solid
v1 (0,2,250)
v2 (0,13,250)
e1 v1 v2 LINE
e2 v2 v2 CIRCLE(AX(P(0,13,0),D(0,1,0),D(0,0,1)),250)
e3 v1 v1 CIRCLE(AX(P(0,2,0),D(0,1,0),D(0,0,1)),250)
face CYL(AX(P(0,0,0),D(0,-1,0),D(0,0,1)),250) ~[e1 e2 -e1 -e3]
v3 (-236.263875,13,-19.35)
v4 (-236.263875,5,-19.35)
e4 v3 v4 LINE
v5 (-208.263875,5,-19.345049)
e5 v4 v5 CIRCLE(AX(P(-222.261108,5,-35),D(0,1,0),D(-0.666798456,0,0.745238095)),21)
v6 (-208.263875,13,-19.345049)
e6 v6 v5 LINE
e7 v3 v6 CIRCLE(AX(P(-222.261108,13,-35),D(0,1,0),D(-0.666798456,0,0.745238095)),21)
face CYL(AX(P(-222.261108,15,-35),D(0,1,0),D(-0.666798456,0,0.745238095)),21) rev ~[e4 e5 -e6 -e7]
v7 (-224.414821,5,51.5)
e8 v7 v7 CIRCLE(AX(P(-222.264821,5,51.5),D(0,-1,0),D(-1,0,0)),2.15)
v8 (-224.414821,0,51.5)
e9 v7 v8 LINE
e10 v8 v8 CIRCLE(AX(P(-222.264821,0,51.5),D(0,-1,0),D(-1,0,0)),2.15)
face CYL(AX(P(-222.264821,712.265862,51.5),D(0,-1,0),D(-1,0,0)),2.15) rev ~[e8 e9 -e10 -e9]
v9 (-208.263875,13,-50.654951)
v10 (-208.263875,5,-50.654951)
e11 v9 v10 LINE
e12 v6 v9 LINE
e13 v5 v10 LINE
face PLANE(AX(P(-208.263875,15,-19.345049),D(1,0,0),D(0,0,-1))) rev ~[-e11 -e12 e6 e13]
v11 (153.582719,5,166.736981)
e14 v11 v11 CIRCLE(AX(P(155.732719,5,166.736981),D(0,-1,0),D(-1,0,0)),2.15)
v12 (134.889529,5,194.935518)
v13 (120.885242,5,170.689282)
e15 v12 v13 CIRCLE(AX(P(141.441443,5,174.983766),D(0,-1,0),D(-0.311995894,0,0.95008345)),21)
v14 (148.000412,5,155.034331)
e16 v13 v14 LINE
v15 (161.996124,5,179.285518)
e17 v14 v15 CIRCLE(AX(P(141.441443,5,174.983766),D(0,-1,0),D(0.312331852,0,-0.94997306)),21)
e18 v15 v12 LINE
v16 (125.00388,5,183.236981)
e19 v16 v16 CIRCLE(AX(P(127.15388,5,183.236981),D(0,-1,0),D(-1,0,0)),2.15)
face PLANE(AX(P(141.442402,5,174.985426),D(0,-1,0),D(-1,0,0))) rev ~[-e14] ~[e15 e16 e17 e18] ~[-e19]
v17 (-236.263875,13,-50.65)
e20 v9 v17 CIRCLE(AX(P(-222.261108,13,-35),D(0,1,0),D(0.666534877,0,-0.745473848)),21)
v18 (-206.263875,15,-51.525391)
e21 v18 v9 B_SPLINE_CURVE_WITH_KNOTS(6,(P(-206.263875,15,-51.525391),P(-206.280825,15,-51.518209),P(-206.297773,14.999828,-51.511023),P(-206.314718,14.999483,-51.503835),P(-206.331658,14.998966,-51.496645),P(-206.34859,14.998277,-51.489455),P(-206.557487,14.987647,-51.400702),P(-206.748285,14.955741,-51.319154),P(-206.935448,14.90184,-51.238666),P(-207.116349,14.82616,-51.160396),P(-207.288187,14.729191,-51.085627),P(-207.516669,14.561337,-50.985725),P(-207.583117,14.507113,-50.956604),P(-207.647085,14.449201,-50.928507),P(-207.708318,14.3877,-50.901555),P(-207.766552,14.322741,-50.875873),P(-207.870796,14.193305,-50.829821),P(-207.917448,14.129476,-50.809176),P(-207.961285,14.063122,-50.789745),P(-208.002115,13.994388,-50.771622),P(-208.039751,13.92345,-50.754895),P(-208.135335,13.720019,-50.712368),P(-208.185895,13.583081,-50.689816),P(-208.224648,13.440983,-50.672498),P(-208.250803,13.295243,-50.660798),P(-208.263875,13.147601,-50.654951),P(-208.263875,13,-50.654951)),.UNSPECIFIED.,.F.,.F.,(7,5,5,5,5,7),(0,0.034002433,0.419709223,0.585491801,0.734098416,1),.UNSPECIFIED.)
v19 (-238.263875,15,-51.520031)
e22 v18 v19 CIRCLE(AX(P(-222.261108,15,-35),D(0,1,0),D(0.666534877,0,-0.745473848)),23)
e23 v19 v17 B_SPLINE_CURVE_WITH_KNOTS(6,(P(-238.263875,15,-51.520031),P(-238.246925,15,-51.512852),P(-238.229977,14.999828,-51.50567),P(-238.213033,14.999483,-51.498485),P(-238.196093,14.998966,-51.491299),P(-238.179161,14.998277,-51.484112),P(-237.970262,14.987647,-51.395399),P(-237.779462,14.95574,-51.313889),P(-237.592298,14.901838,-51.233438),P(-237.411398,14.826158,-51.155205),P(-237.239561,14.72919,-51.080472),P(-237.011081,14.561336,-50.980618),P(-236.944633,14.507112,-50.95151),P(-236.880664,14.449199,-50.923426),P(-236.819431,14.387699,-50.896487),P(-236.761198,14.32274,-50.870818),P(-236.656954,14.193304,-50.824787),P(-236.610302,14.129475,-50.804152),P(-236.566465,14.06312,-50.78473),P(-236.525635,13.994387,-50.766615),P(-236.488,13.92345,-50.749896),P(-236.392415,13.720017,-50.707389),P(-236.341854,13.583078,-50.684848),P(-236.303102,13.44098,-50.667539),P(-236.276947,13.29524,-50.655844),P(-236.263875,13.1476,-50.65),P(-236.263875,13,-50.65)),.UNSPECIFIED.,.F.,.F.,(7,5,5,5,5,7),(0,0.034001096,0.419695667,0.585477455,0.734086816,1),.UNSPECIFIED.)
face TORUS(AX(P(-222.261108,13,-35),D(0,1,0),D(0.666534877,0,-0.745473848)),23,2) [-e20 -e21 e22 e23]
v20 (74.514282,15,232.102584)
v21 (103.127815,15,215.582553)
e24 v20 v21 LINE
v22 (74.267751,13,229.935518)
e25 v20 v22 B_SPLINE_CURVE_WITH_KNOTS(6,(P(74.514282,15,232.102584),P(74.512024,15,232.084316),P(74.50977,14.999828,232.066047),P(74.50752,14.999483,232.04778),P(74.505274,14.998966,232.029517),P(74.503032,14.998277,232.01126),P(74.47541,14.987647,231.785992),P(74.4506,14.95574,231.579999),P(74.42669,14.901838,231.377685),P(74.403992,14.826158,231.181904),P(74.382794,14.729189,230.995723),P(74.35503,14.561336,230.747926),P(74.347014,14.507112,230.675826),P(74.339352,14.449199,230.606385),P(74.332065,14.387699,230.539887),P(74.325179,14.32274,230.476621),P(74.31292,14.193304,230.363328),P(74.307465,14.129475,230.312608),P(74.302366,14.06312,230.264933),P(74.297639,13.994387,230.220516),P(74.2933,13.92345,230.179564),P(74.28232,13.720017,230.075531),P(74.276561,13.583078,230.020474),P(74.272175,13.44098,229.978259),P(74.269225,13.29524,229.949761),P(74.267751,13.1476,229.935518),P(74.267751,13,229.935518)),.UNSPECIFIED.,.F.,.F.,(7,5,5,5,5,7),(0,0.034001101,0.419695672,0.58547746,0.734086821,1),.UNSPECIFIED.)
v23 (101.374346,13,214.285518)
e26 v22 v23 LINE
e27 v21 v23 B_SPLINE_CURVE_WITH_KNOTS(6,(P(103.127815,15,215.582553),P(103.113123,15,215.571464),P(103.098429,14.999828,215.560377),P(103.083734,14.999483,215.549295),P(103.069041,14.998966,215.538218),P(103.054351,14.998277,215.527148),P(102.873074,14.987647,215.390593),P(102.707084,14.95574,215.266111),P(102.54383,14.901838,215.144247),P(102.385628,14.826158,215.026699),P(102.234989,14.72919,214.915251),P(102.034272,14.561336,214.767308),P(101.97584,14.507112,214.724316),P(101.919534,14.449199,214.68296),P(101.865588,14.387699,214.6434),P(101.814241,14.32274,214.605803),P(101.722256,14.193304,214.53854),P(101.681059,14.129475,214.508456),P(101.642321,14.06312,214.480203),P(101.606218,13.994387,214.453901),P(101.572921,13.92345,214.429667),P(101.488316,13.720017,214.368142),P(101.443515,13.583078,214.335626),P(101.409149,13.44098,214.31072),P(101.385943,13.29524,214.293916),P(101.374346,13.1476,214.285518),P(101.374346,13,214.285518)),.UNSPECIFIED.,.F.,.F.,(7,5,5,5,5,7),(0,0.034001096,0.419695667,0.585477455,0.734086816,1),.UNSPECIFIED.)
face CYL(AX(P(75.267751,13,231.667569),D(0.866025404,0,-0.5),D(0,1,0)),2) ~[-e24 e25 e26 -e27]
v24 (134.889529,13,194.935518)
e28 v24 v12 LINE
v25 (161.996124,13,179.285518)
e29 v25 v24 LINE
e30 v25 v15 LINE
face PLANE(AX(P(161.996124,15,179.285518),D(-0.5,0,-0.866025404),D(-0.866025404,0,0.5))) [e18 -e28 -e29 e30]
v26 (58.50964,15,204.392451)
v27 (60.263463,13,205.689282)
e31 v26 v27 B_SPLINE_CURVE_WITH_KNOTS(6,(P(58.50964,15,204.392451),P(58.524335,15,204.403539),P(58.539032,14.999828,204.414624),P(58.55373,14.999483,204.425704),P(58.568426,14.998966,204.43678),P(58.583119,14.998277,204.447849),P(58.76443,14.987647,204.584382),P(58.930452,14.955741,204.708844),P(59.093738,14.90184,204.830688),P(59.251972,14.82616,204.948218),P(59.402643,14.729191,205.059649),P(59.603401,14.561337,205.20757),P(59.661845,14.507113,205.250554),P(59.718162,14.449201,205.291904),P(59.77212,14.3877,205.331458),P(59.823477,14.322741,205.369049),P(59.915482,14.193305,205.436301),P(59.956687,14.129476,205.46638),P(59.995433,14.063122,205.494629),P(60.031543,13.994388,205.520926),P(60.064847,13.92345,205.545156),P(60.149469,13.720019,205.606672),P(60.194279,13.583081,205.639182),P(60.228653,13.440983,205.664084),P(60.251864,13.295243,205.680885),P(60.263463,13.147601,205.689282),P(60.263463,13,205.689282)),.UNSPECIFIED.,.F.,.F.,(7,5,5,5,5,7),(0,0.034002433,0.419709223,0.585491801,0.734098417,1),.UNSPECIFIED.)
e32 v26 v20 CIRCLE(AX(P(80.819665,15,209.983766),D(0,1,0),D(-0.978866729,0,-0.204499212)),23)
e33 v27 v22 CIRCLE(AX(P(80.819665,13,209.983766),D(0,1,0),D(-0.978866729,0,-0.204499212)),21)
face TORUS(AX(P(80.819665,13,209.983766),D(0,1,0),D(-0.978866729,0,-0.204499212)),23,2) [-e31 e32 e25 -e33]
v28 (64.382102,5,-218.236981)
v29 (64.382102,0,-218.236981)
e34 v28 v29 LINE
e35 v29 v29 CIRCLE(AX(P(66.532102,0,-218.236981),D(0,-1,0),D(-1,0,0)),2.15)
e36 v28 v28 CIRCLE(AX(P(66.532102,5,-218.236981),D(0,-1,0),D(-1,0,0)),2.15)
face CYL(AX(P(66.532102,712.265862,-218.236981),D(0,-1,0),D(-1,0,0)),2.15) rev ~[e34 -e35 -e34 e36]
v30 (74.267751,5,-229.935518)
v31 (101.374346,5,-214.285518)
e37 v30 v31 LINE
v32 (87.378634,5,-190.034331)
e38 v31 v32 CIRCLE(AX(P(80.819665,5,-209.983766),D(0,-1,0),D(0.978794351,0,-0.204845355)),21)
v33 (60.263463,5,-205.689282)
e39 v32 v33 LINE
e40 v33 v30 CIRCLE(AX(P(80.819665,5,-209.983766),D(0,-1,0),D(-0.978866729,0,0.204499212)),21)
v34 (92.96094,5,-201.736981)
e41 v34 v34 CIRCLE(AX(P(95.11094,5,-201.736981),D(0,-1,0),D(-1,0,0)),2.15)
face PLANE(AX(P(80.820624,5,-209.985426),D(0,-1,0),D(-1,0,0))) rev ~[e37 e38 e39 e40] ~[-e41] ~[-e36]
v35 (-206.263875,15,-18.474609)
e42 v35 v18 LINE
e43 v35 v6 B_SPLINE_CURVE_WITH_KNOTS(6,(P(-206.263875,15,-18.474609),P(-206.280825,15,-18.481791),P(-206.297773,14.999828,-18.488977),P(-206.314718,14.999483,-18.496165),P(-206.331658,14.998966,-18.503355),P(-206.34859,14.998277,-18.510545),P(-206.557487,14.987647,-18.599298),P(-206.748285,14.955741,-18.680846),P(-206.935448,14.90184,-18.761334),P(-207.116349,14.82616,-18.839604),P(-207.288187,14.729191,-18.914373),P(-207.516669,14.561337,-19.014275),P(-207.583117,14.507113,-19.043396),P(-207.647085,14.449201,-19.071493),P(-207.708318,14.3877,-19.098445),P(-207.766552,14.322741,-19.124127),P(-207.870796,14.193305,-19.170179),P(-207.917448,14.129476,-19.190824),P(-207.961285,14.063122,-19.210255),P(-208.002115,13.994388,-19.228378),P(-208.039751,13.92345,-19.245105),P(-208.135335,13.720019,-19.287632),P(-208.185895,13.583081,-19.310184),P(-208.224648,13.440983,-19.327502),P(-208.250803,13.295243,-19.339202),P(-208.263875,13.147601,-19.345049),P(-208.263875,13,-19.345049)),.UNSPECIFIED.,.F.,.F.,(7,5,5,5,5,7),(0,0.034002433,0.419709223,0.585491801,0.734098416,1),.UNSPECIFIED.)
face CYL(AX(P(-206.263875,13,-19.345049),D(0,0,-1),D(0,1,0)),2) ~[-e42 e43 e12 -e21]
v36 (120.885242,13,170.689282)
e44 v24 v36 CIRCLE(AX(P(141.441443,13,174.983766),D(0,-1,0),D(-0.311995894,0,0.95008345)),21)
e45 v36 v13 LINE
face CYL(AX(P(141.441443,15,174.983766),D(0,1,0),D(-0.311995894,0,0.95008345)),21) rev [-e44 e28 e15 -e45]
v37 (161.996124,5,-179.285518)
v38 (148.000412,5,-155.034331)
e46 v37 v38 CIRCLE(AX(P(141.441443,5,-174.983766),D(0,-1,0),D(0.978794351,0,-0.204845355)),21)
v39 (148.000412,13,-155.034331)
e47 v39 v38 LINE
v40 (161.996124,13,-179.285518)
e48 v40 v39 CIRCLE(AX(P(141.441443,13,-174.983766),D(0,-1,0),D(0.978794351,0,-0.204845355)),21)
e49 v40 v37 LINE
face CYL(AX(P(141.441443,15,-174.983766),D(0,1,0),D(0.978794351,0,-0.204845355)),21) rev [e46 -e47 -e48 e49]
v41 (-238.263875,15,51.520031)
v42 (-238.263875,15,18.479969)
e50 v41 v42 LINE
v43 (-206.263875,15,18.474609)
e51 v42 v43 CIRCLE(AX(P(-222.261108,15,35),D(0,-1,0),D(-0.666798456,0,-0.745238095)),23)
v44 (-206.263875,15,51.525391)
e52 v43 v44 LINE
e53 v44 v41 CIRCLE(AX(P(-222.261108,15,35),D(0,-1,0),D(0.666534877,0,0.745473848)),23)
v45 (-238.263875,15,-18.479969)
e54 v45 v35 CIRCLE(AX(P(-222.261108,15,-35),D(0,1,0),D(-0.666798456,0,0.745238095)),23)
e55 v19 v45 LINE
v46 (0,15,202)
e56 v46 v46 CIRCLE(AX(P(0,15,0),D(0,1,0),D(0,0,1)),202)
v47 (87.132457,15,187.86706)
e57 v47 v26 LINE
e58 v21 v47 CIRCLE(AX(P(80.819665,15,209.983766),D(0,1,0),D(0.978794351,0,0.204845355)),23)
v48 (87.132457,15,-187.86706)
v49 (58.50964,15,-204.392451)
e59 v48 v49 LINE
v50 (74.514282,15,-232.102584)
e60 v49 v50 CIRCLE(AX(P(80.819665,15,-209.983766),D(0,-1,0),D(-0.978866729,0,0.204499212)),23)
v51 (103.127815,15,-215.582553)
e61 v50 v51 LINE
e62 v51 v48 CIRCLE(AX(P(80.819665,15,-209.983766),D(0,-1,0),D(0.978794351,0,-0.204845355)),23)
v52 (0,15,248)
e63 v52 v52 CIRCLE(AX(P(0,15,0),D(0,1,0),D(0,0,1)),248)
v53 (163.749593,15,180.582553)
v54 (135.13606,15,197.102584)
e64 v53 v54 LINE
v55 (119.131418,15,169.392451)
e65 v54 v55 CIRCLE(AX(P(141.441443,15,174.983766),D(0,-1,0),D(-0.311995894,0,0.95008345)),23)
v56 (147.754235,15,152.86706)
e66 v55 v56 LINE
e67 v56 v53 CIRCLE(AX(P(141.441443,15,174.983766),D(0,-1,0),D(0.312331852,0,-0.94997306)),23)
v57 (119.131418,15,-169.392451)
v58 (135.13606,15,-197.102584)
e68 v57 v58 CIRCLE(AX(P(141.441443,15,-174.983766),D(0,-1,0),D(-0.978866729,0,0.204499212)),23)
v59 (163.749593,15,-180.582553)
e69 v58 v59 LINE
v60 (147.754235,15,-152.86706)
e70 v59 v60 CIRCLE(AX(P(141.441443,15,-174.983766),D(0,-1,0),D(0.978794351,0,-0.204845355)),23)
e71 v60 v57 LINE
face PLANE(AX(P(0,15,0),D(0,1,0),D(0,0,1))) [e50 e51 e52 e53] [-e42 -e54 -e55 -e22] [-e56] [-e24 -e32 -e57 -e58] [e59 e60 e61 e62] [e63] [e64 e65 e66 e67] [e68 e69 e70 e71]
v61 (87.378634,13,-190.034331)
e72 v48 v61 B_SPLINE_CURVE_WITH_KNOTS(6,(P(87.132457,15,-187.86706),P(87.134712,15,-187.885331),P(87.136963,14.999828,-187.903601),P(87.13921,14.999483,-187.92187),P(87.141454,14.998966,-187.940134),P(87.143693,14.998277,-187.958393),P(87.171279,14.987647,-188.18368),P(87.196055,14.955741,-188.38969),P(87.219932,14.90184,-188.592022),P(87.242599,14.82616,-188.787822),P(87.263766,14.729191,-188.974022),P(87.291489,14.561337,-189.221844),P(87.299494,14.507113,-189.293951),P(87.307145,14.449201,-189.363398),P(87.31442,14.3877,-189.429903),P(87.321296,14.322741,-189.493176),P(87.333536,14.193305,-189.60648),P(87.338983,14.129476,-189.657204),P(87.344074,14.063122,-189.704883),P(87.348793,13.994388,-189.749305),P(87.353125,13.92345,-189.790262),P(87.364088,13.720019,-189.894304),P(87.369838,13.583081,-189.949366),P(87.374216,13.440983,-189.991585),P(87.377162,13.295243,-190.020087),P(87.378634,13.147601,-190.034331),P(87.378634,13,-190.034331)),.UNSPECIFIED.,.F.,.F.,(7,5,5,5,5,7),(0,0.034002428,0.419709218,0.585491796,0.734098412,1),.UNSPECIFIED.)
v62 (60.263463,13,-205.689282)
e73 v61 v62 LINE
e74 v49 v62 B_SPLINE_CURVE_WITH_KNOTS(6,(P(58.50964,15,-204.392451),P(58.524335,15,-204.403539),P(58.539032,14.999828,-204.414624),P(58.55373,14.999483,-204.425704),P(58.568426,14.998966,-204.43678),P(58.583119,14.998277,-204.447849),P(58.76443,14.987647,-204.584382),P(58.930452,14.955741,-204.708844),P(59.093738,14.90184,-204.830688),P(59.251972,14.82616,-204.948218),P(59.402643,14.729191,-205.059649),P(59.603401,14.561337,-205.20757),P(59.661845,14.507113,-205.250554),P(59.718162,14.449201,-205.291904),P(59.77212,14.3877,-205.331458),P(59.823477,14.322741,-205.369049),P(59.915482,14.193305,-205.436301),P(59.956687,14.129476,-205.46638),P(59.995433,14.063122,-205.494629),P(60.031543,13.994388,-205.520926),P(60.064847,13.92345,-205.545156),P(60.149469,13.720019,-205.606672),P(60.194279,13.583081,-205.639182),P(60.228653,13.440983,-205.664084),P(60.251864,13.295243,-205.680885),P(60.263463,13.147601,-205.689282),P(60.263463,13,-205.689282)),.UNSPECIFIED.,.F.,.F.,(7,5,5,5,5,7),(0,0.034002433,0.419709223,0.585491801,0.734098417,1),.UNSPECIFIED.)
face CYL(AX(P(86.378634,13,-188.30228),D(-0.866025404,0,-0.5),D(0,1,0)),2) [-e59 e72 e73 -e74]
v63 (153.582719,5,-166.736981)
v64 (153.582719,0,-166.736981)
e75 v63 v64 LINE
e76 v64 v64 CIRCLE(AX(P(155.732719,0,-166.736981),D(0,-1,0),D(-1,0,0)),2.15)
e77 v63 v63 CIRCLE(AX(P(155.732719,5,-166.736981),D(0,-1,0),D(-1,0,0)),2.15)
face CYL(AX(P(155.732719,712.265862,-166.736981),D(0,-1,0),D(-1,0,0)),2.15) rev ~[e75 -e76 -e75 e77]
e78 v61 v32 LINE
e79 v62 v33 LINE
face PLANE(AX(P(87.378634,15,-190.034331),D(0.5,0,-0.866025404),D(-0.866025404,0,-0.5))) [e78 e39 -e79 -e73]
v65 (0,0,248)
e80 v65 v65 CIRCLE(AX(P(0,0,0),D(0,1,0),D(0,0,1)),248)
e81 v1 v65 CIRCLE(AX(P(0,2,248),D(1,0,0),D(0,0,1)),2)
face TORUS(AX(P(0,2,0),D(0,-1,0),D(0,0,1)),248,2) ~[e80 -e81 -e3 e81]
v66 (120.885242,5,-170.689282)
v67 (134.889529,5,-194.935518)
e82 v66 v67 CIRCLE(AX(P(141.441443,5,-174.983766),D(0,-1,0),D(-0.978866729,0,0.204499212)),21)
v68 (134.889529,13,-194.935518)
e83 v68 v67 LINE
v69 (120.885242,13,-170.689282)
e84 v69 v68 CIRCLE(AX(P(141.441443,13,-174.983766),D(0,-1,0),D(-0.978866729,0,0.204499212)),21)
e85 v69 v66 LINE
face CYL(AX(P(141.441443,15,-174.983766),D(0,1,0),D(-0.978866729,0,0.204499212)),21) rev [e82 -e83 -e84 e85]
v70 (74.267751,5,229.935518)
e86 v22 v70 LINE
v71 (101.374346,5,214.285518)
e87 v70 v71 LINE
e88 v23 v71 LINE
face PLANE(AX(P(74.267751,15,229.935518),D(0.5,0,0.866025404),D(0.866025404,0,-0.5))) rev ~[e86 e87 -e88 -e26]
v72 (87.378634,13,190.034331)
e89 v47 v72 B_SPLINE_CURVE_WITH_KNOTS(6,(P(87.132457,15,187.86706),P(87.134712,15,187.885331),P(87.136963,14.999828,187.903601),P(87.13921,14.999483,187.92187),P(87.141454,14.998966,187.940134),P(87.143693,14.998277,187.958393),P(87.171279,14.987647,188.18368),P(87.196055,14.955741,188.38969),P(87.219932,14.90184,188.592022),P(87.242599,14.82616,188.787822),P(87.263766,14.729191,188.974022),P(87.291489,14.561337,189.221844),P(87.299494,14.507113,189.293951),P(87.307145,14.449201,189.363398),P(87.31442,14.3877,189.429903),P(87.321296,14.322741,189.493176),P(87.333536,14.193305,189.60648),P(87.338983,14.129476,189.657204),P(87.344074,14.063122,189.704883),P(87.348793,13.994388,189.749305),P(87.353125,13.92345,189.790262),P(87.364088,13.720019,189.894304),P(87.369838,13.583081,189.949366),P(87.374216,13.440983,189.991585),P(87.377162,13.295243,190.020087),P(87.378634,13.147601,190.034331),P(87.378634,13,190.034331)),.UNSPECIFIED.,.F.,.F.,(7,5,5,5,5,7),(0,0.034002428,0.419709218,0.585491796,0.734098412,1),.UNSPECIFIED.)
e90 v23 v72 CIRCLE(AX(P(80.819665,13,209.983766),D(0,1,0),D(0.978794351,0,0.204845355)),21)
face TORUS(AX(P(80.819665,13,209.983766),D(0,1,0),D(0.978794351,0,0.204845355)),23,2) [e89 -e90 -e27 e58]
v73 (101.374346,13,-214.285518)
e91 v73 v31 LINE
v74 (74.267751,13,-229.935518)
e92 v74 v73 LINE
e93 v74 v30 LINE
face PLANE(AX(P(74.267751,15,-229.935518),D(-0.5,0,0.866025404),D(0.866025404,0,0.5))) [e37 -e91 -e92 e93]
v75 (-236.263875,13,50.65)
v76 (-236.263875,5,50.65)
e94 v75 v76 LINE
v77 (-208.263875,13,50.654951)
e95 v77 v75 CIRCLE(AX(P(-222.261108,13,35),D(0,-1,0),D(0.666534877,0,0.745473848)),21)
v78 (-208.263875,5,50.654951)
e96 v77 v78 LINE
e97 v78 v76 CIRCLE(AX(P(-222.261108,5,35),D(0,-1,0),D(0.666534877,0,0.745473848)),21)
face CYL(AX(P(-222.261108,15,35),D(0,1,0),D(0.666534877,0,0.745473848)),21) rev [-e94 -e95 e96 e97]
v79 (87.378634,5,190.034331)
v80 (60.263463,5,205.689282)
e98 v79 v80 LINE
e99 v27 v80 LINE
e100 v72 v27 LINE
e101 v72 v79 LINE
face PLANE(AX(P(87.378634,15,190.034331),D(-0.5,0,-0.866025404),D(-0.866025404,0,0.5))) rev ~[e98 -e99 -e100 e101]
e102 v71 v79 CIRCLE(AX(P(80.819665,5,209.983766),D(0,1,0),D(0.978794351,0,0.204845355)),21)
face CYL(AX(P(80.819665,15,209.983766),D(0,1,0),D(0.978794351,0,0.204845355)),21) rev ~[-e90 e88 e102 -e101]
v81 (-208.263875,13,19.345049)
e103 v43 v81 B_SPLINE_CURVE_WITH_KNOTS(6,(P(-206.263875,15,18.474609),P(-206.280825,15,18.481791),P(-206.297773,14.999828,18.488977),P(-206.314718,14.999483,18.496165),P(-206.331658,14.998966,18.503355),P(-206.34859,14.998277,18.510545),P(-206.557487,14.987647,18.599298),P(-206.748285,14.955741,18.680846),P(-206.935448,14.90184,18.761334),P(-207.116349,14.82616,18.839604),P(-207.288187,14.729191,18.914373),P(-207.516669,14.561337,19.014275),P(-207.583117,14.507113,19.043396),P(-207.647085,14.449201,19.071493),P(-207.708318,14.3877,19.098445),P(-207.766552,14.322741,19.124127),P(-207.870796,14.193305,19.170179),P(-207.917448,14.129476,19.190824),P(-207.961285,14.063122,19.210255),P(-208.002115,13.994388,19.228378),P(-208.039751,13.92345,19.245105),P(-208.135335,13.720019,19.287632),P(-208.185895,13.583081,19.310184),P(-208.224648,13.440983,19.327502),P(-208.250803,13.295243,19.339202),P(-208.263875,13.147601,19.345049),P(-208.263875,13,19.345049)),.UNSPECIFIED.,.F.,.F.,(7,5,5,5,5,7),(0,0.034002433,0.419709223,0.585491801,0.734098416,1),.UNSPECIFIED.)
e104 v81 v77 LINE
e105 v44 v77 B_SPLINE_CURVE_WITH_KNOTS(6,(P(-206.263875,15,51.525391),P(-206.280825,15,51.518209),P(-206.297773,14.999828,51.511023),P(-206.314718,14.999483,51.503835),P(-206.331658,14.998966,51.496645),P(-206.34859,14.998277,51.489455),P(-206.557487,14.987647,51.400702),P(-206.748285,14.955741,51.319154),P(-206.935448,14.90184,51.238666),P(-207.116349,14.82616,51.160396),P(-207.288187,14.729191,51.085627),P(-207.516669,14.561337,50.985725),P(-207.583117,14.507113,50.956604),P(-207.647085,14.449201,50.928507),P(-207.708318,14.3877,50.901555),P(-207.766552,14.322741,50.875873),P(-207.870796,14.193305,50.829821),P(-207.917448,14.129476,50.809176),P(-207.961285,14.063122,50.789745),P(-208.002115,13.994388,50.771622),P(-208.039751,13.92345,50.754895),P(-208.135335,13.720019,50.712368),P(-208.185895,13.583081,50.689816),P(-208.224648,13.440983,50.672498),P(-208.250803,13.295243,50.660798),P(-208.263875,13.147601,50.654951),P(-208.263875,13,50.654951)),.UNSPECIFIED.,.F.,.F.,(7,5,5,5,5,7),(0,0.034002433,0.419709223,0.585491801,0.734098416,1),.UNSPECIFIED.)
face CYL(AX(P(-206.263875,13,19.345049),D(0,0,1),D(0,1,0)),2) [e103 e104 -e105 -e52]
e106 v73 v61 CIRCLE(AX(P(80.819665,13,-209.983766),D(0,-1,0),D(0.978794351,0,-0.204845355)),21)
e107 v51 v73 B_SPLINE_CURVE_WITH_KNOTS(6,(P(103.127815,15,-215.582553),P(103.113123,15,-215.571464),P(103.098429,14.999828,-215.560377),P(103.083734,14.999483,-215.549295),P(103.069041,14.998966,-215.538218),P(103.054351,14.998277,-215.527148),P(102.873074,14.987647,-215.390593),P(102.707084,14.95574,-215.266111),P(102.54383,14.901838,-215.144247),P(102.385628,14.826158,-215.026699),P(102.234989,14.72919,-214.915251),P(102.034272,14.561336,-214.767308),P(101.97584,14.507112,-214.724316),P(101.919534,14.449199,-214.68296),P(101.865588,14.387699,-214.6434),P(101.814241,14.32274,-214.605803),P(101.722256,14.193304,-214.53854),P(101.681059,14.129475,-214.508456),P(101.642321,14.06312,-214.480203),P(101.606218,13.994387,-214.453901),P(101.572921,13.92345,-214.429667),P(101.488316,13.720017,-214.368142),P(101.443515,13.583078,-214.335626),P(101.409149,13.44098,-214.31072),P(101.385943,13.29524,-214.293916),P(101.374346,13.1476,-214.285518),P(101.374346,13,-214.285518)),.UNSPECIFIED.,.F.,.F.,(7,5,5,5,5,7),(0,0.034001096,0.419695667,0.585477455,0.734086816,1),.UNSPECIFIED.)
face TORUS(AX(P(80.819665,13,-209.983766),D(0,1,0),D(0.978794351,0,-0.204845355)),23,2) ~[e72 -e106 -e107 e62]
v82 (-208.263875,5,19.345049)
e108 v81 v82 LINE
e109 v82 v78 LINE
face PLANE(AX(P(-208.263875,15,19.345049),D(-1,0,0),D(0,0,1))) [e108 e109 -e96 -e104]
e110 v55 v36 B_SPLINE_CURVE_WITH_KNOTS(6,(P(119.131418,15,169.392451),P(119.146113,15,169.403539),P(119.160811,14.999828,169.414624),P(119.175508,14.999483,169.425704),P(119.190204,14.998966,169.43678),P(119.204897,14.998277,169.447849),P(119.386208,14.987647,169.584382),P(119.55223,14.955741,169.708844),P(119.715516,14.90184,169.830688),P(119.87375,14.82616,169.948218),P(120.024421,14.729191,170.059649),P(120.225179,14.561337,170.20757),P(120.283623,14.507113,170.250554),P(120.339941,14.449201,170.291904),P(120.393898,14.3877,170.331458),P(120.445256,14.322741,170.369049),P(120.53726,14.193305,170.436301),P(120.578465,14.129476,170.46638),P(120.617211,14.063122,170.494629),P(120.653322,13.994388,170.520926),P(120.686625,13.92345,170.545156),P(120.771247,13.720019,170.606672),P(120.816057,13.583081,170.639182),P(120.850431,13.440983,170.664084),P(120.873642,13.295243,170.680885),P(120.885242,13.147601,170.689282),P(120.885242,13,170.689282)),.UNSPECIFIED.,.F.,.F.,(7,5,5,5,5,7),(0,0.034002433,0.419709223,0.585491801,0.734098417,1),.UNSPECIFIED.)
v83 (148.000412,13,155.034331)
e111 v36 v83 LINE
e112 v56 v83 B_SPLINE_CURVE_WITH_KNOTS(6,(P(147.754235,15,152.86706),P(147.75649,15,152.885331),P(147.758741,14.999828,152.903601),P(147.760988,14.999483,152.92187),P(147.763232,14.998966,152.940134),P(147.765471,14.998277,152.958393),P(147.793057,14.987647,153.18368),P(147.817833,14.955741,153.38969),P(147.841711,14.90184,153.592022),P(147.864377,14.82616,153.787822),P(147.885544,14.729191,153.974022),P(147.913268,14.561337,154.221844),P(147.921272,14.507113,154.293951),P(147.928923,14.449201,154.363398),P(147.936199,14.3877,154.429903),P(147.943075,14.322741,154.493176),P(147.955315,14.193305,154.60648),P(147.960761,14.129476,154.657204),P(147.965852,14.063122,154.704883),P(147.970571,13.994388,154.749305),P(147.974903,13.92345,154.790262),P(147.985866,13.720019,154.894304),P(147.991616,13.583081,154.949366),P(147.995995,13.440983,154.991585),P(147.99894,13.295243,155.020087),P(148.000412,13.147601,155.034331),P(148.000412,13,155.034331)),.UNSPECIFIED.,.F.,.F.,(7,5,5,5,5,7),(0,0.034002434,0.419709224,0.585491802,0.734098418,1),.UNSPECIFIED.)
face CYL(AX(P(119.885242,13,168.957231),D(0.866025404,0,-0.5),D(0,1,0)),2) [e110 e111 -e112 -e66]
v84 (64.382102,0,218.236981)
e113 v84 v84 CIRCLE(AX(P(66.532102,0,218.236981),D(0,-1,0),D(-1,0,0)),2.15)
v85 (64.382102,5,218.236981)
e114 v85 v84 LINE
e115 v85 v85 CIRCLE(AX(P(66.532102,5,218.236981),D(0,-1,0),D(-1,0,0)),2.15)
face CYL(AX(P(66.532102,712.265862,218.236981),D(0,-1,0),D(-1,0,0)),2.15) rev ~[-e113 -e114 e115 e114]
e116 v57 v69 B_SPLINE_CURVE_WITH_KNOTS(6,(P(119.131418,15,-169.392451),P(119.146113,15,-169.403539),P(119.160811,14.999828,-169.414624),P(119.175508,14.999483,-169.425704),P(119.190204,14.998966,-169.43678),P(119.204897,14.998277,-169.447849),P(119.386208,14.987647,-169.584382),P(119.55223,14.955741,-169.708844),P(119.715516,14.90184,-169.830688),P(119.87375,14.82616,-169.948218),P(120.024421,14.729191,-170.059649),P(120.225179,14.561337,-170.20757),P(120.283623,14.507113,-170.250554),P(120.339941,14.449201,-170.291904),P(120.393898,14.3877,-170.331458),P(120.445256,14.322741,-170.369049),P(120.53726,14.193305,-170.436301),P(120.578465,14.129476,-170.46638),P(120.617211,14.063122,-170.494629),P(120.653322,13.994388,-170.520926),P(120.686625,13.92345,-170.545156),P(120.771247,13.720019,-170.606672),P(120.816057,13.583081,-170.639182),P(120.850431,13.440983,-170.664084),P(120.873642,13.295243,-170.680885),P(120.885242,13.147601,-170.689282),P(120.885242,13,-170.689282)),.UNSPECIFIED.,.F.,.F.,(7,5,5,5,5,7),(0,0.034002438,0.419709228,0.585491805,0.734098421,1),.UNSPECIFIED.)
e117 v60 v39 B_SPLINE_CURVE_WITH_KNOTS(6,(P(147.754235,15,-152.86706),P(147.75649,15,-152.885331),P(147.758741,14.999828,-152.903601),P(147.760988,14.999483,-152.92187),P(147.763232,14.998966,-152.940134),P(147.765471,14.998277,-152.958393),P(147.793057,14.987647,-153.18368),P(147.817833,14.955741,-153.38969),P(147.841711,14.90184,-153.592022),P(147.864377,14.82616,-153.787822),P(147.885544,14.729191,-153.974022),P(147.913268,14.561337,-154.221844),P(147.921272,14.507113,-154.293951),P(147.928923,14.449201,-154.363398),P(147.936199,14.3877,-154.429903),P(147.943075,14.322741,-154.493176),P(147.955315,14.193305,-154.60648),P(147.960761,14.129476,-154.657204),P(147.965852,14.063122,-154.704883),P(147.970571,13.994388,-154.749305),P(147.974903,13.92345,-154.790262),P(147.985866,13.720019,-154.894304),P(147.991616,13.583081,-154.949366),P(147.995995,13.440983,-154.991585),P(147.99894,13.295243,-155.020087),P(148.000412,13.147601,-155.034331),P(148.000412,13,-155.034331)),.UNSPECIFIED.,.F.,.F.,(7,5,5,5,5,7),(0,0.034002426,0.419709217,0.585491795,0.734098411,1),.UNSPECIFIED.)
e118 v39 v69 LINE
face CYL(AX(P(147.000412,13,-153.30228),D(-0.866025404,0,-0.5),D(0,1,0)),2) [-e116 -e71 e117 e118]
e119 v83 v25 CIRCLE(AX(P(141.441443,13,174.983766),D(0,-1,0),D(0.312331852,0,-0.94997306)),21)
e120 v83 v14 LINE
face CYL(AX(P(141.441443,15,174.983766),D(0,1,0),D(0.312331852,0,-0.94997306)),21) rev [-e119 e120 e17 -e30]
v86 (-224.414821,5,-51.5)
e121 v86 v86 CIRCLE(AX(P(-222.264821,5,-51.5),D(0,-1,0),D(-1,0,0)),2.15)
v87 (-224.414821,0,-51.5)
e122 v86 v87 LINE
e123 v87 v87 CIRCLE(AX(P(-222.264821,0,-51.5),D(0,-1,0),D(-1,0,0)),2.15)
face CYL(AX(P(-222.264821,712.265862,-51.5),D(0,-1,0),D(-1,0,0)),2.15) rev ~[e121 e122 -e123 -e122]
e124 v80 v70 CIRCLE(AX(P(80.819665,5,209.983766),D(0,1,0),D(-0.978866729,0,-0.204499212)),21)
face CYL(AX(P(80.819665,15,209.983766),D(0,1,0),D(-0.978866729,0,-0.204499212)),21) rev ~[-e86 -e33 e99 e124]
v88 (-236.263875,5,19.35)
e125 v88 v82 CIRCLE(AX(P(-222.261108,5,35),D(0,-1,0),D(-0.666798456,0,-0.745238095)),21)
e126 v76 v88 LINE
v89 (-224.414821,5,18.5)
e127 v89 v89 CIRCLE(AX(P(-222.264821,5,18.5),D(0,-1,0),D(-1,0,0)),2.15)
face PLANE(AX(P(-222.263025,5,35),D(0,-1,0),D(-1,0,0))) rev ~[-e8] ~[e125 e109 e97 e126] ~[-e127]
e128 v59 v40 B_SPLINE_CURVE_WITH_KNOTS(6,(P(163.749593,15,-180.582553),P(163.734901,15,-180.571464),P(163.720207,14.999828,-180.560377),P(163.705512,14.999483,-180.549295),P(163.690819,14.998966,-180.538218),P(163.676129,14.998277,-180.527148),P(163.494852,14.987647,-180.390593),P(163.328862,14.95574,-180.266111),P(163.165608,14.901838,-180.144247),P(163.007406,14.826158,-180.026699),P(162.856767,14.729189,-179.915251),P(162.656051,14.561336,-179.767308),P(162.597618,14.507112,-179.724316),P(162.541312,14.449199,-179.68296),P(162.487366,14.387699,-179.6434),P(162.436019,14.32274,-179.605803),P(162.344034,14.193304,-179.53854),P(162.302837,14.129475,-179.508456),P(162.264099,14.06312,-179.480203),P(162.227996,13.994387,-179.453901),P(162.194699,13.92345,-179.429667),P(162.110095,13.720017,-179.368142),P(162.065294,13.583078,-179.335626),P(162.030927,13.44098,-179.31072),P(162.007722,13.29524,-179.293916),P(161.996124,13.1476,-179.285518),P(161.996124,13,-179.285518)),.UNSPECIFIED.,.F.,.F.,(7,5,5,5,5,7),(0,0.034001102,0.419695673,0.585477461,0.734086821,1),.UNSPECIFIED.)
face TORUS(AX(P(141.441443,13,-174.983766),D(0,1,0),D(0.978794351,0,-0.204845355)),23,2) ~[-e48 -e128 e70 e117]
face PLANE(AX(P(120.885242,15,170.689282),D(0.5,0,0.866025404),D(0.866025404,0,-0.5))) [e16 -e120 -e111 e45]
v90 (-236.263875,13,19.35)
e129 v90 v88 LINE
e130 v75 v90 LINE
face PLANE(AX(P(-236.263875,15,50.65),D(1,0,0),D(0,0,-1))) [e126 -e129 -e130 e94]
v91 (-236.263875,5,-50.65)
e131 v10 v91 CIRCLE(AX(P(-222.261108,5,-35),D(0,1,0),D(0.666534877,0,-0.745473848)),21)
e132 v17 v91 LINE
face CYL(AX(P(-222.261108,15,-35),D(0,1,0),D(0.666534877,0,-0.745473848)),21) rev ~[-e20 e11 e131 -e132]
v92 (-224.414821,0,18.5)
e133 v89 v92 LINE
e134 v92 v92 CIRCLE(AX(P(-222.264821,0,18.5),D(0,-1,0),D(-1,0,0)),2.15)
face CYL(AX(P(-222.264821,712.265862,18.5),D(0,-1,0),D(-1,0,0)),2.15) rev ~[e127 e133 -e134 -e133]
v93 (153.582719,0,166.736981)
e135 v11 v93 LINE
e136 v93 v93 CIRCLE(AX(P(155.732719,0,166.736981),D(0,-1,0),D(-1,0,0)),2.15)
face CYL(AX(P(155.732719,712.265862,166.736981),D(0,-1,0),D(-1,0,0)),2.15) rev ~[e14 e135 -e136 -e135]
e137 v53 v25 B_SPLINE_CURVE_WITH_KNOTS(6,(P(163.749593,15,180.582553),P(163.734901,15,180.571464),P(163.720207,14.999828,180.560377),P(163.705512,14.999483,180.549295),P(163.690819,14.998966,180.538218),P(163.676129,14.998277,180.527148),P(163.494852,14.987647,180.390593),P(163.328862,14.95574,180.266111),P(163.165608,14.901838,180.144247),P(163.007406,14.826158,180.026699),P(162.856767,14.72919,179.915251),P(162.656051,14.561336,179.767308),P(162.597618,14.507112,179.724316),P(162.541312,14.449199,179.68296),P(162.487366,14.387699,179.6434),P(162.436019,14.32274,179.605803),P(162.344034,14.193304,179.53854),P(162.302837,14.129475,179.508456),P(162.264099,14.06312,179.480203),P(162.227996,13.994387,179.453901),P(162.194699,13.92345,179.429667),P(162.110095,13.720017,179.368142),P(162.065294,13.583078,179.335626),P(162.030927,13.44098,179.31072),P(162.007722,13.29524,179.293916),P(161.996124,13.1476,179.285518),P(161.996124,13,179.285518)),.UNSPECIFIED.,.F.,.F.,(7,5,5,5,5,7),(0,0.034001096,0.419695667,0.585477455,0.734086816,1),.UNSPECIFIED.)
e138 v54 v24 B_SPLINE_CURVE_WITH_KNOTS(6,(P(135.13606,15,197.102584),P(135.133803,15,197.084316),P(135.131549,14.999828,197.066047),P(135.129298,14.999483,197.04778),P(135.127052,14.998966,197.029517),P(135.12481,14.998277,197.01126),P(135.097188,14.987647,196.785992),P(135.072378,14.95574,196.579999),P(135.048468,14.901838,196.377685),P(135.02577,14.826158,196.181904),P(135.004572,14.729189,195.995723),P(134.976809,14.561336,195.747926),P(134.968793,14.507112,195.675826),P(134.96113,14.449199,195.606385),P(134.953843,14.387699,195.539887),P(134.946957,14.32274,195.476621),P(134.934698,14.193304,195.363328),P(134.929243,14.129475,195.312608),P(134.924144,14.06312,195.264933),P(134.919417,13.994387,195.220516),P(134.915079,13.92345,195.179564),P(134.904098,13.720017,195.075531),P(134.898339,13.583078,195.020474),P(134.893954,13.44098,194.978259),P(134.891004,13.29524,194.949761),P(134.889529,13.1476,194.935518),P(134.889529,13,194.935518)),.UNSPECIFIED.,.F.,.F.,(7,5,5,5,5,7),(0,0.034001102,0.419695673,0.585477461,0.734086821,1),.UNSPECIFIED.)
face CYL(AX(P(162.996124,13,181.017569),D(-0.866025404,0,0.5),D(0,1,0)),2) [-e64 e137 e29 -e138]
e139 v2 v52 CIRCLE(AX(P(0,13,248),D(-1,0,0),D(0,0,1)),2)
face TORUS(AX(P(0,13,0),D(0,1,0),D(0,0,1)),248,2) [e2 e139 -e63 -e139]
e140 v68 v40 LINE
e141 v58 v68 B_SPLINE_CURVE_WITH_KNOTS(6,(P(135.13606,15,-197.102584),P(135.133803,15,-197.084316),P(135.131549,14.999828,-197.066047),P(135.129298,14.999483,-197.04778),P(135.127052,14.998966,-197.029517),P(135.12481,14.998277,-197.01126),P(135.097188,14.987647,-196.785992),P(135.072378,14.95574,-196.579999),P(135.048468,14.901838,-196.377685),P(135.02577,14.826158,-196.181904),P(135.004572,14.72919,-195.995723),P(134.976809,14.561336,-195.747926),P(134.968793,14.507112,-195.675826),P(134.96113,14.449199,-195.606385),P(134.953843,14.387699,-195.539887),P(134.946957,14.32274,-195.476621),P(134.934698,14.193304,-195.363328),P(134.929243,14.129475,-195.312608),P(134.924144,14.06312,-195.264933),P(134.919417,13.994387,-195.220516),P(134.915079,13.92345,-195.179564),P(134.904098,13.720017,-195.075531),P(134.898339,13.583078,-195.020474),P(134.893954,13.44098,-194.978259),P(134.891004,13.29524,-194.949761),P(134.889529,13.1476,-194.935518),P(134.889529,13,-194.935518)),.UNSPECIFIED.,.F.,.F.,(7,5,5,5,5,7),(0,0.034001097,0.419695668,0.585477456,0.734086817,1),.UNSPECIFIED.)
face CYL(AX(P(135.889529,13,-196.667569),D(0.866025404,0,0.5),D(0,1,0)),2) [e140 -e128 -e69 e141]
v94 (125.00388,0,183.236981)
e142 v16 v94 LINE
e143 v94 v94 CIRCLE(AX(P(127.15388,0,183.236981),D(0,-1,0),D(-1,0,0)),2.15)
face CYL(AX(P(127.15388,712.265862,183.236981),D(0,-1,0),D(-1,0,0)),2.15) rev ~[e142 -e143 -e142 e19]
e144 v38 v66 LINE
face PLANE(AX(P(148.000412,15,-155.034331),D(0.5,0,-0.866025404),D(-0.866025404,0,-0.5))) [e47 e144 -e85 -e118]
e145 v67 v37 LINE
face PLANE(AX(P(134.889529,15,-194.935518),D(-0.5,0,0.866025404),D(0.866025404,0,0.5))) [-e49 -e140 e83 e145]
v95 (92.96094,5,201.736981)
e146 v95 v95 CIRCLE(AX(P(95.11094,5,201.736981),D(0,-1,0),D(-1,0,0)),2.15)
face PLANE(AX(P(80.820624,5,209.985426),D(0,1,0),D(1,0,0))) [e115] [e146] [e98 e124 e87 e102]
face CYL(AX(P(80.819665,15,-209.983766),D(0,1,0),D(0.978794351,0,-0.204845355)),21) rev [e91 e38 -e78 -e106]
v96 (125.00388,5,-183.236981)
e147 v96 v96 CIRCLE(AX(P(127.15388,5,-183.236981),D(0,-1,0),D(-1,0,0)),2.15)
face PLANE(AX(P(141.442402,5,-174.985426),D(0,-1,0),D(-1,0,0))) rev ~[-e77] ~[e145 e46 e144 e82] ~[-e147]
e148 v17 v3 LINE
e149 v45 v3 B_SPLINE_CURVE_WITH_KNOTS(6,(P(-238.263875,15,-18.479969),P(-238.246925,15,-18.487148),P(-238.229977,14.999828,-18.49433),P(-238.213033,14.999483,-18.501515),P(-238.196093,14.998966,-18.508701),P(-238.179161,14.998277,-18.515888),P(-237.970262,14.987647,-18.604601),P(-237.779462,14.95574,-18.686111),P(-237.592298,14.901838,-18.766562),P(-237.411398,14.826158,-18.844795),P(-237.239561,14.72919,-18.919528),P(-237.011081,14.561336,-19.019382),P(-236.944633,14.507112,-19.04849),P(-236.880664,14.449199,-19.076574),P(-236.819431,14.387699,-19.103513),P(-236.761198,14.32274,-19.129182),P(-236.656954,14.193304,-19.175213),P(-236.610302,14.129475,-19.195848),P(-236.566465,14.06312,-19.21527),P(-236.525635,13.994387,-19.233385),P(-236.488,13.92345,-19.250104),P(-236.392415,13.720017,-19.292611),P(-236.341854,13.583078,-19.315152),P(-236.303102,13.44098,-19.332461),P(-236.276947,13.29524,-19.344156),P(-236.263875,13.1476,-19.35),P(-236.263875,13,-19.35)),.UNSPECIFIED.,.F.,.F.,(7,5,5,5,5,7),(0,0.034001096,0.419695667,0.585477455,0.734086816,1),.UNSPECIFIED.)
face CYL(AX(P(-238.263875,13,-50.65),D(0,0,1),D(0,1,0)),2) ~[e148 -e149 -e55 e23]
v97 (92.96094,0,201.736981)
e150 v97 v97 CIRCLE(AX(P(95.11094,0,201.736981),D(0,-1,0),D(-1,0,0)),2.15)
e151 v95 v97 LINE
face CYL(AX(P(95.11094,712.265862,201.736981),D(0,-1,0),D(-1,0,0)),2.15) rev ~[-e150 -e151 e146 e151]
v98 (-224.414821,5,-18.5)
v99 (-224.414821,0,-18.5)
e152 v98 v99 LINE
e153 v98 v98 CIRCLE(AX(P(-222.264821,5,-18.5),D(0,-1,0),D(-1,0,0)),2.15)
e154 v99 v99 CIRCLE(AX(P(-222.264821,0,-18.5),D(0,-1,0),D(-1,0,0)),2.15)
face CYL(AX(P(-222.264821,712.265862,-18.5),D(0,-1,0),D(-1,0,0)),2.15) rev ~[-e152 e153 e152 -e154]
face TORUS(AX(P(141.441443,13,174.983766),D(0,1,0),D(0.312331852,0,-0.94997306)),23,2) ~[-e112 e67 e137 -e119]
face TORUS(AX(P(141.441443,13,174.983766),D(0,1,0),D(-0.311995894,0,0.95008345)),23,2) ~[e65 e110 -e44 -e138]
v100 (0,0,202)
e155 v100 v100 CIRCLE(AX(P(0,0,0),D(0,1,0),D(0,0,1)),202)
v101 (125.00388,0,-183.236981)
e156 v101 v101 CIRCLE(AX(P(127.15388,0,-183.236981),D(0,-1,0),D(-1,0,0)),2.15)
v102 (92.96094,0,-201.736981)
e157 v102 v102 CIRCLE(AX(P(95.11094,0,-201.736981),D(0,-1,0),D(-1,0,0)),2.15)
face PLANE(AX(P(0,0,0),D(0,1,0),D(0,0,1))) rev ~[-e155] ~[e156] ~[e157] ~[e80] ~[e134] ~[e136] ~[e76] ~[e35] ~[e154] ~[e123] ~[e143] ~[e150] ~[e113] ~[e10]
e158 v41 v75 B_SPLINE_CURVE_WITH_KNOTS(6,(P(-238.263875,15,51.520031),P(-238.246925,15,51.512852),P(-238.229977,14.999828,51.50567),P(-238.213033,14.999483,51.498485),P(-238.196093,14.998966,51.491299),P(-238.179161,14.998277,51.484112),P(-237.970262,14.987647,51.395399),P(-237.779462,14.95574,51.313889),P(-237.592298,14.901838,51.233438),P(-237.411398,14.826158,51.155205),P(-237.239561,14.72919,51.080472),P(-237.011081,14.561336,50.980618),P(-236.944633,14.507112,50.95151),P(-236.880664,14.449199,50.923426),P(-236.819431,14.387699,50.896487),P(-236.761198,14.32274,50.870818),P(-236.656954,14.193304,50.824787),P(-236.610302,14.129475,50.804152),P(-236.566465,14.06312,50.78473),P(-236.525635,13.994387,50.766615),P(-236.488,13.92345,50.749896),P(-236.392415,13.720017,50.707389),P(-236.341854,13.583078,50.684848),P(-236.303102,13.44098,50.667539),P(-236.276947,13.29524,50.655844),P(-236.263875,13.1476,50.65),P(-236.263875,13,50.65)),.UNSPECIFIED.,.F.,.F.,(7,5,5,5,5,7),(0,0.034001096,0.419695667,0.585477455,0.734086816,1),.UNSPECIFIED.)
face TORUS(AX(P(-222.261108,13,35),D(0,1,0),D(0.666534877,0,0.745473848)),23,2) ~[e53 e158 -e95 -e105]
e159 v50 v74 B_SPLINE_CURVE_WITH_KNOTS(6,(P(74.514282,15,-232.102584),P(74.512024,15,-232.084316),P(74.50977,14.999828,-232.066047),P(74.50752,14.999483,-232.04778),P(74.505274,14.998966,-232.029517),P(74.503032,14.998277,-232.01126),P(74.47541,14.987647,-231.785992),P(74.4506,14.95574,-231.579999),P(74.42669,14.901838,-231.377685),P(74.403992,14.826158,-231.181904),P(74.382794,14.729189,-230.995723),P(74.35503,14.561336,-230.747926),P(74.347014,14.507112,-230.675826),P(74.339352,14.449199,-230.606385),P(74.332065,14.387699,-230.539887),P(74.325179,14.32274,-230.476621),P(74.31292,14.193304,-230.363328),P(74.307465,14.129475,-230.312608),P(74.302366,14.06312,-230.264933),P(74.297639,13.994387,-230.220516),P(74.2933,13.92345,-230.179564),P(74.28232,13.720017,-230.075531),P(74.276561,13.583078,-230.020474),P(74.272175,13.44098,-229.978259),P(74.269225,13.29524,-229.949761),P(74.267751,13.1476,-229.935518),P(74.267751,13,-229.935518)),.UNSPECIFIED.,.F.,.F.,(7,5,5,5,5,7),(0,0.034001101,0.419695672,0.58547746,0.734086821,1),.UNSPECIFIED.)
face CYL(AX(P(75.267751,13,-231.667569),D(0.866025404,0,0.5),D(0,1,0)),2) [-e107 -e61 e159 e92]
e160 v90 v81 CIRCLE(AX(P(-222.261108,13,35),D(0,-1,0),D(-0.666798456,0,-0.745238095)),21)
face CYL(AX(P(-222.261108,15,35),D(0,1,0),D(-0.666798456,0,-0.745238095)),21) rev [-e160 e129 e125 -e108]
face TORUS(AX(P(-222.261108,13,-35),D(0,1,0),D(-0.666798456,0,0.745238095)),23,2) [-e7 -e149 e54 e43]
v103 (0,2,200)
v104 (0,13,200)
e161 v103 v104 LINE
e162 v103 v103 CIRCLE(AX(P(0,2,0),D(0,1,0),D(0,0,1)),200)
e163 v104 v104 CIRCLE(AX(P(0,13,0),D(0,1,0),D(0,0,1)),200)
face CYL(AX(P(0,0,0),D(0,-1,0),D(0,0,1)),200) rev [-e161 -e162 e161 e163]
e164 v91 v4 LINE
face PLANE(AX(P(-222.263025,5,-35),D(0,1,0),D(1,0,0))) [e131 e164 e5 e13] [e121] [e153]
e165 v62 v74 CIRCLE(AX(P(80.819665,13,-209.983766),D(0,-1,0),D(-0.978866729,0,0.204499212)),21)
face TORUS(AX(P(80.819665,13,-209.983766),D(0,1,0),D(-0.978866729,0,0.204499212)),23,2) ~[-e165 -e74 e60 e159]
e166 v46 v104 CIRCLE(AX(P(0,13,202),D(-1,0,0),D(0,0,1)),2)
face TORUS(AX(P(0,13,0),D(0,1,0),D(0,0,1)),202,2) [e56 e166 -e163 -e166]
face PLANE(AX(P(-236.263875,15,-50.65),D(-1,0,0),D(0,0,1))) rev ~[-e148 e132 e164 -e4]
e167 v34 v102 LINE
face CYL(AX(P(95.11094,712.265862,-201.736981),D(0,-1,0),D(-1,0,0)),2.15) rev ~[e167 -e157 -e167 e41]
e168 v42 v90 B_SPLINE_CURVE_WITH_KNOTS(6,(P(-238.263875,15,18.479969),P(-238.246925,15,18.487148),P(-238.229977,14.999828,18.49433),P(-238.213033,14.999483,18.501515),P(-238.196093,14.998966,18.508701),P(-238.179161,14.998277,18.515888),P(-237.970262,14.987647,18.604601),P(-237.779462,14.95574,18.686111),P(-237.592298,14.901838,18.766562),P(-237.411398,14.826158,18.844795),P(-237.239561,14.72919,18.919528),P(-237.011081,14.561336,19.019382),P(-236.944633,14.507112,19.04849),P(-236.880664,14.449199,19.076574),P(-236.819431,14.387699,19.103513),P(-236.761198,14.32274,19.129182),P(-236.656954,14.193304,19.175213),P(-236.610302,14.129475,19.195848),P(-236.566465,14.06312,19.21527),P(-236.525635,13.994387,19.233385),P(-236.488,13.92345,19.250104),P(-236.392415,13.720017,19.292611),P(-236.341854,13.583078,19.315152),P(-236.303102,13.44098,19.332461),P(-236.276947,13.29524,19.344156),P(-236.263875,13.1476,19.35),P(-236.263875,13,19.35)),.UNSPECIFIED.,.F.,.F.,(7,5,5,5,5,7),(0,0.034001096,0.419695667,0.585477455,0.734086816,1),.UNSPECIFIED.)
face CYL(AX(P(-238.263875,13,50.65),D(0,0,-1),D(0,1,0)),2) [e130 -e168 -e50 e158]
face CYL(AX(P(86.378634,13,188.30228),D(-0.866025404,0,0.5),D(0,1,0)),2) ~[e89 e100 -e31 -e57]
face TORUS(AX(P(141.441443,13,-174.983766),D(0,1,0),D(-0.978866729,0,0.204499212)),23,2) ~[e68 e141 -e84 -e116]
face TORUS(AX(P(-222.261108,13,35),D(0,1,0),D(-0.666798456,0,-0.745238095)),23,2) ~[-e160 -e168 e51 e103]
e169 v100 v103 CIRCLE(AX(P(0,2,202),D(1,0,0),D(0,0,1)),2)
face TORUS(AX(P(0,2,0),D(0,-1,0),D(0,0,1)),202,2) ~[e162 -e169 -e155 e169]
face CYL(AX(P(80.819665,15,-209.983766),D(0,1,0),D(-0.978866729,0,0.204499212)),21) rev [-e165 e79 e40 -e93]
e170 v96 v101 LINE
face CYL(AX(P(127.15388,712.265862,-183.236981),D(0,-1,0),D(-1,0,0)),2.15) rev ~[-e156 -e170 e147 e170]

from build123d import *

# Parameters (mm, degrees)
SKETCH1_R            = 250
SKETCH1_R_2          = 200
BOSS_EXTRUDE1_DEPTH  = 15
CUT_EXTRUDE1_DEPTH   = 10
FILLET1_R            = 2
M4_CLEARANCE_HOLE1_D = 4.3


with BuildPart() as part:
    # Sketch1 → Boss-Extrude1 (new body)
    with BuildSketch(Plane(origin=(0, 0, 0), x_dir=(1, 0, 0), z_dir=(0, 1, 0))):
        with Locations(Location((0, 0, 0), (0, 0, 270))):
            Circle(SKETCH1_R)
        with Locations(Location((0, 0, 0), (0, 0, 270))):
            Circle(SKETCH1_R_2, mode=Mode.SUBTRACT)
    extrude(amount=BOSS_EXTRUDE1_DEPTH)

    # Sketch2 → Cut-Extrude1 (cut)
    with BuildSketch(Plane(origin=(0, 15, 0), x_dir=(1, 0, 0), z_dir=(0, 1, 0))):
        with BuildLine():
            Line((74.267750945, 229.935518), (101.374346083, 214.285518))
            ThreePointArc((101.374346083, 214.285518), (99.008054469, 199.486981355), (87.378633605, 190.034331292))
            Line((87.378633605, 190.034331292), (60.263463422, 205.689282096))
            ThreePointArc((60.263463422, 205.689282096), (62.634988078, 220.486981027), (74.267750945, 229.935518))
        make_face()
        with BuildLine():
            Line((134.889529209, 194.935518), (161.996124348, 179.285518))
            ThreePointArc((161.996124348, 179.285518), (159.629832734, 164.486981355), (148.00041187, 155.034331292))
            Line((148.00041187, 155.034331292), (120.885241687, 170.689282096))
            ThreePointArc((120.885241687, 170.689282096), (123.256766343, 185.486981027), (134.889529209, 194.935518))
        make_face()
        with BuildLine():
            Line((161.996124348, -179.285518), (134.88952921, -194.935518))
            ThreePointArc((134.88952921, -194.935518), (123.256766343, -185.486981027), (120.885241687, -170.689282096))
            Line((120.885241687, -170.689282096), (148.00041187, -155.034331292))
            ThreePointArc((148.00041187, -155.034331292), (159.629832734, -164.486981355), (161.996124348, -179.285518))
        make_face()
        with BuildLine():
            Line((87.378633605, -190.034331292), (60.263463422, -205.689282096))
            ThreePointArc((60.263463422, -205.689282096), (62.634988078, -220.486981027), (74.267750945, -229.935518))
            Line((74.267750945, -229.935518), (101.374346083, -214.285518))
            ThreePointArc((101.374346083, -214.285518), (99.008054469, -199.486981355), (87.378633605, -190.034331292))
        make_face()
        with BuildLine():
            Line((-236.263875293, -50.65), (-236.263875293, -19.35))
            ThreePointArc((-236.263875293, -19.35), (-222.264820812, -14.000000328), (-208.263875293, -19.345049196))
            Line((-208.263875293, -19.345049196), (-208.263875293, -50.654950804))
            ThreePointArc((-208.263875293, -50.654950804), (-222.264820812, -55.999999672), (-236.263875293, -50.65))
        make_face()
        with BuildLine():
            Line((-208.263875293, 19.345049196), (-208.263875293, 50.654950804))
            ThreePointArc((-208.263875293, 50.654950804), (-222.264820812, 55.999999672), (-236.263875293, 50.65))
            Line((-236.263875293, 50.65), (-236.263875293, 19.35))
            ThreePointArc((-236.263875293, 19.35), (-222.264820812, 14.000000328), (-208.263875293, 19.345049196))
        make_face()
    extrude(amount=-CUT_EXTRUDE1_DEPTH, mode=Mode.SUBTRACT)

    # Fillet1
    fillet1_edges = [part.edges().sort_by_distance(p)[0] for p in [
        (62.634988078, 15, -220.486981027),
        (73.821048514, 15, -197.861806694),
        (99.008054469, 15, -199.486981355),
        (87.821048514, 15, -222.110518),
        (0, 0, -250),
        (123.256766343, 15, -185.486981027),
        (134.442826779, 15, -162.861806694),
        (159.629832734, 15, -164.486981355),
        (148.442826779, 15, -187.110518),
        (159.629832734, 15, 164.486981355),
        (134.442826779, 15, 162.861806694),
        (123.256766343, 15, 185.486981027),
        (148.442826779, 15, 187.110518),
        (0, 15, -250),
        (99.008054469, 15, 199.486981355),
        (73.821048514, 15, 197.861806694),
        (62.634988078, 15, 220.486981027),
        (87.821048514, 15, 222.110518),
        (0, 0, -200),
        (0, 15, -200),
        (-222.264820812, 15, 55.999999672),
        (-208.263875293, 15, 35),
        (-222.264820812, 15, 14.000000328),
        (-236.263875293, 15, 35),
        (-222.264820812, 15, -14.000000328),
        (-208.263875293, 15, -35),
        (-222.264820812, 15, -55.999999672),
        (-236.263875293, 15, -35),
    ]]
    fillet(fillet1_edges, radius=FILLET1_R)

    # M4 Clearance Hole1 (through all)
    with Locations(Plane(origin=(0, 5, 0), x_dir=(1, 0, 0), z_dir=(0, 1, 0))):
        with Locations((-222.264820812, -18.5), (-222.264820812, -51.5), (-222.264820812, 51.5), (-222.264820812, 18.5), (66.532102111, 218.236981191), (95.110940436, 201.736981191), (127.153880376, 183.236981191), (155.732718701, 166.736981191), (155.732718701, -166.736981191), (127.153880376, -183.236981191), (95.110940435, -201.736981191), (66.53210211, -218.236981191)):
            Hole(M4_CLEARANCE_HOLE1_D / 2)


solid = part.part
